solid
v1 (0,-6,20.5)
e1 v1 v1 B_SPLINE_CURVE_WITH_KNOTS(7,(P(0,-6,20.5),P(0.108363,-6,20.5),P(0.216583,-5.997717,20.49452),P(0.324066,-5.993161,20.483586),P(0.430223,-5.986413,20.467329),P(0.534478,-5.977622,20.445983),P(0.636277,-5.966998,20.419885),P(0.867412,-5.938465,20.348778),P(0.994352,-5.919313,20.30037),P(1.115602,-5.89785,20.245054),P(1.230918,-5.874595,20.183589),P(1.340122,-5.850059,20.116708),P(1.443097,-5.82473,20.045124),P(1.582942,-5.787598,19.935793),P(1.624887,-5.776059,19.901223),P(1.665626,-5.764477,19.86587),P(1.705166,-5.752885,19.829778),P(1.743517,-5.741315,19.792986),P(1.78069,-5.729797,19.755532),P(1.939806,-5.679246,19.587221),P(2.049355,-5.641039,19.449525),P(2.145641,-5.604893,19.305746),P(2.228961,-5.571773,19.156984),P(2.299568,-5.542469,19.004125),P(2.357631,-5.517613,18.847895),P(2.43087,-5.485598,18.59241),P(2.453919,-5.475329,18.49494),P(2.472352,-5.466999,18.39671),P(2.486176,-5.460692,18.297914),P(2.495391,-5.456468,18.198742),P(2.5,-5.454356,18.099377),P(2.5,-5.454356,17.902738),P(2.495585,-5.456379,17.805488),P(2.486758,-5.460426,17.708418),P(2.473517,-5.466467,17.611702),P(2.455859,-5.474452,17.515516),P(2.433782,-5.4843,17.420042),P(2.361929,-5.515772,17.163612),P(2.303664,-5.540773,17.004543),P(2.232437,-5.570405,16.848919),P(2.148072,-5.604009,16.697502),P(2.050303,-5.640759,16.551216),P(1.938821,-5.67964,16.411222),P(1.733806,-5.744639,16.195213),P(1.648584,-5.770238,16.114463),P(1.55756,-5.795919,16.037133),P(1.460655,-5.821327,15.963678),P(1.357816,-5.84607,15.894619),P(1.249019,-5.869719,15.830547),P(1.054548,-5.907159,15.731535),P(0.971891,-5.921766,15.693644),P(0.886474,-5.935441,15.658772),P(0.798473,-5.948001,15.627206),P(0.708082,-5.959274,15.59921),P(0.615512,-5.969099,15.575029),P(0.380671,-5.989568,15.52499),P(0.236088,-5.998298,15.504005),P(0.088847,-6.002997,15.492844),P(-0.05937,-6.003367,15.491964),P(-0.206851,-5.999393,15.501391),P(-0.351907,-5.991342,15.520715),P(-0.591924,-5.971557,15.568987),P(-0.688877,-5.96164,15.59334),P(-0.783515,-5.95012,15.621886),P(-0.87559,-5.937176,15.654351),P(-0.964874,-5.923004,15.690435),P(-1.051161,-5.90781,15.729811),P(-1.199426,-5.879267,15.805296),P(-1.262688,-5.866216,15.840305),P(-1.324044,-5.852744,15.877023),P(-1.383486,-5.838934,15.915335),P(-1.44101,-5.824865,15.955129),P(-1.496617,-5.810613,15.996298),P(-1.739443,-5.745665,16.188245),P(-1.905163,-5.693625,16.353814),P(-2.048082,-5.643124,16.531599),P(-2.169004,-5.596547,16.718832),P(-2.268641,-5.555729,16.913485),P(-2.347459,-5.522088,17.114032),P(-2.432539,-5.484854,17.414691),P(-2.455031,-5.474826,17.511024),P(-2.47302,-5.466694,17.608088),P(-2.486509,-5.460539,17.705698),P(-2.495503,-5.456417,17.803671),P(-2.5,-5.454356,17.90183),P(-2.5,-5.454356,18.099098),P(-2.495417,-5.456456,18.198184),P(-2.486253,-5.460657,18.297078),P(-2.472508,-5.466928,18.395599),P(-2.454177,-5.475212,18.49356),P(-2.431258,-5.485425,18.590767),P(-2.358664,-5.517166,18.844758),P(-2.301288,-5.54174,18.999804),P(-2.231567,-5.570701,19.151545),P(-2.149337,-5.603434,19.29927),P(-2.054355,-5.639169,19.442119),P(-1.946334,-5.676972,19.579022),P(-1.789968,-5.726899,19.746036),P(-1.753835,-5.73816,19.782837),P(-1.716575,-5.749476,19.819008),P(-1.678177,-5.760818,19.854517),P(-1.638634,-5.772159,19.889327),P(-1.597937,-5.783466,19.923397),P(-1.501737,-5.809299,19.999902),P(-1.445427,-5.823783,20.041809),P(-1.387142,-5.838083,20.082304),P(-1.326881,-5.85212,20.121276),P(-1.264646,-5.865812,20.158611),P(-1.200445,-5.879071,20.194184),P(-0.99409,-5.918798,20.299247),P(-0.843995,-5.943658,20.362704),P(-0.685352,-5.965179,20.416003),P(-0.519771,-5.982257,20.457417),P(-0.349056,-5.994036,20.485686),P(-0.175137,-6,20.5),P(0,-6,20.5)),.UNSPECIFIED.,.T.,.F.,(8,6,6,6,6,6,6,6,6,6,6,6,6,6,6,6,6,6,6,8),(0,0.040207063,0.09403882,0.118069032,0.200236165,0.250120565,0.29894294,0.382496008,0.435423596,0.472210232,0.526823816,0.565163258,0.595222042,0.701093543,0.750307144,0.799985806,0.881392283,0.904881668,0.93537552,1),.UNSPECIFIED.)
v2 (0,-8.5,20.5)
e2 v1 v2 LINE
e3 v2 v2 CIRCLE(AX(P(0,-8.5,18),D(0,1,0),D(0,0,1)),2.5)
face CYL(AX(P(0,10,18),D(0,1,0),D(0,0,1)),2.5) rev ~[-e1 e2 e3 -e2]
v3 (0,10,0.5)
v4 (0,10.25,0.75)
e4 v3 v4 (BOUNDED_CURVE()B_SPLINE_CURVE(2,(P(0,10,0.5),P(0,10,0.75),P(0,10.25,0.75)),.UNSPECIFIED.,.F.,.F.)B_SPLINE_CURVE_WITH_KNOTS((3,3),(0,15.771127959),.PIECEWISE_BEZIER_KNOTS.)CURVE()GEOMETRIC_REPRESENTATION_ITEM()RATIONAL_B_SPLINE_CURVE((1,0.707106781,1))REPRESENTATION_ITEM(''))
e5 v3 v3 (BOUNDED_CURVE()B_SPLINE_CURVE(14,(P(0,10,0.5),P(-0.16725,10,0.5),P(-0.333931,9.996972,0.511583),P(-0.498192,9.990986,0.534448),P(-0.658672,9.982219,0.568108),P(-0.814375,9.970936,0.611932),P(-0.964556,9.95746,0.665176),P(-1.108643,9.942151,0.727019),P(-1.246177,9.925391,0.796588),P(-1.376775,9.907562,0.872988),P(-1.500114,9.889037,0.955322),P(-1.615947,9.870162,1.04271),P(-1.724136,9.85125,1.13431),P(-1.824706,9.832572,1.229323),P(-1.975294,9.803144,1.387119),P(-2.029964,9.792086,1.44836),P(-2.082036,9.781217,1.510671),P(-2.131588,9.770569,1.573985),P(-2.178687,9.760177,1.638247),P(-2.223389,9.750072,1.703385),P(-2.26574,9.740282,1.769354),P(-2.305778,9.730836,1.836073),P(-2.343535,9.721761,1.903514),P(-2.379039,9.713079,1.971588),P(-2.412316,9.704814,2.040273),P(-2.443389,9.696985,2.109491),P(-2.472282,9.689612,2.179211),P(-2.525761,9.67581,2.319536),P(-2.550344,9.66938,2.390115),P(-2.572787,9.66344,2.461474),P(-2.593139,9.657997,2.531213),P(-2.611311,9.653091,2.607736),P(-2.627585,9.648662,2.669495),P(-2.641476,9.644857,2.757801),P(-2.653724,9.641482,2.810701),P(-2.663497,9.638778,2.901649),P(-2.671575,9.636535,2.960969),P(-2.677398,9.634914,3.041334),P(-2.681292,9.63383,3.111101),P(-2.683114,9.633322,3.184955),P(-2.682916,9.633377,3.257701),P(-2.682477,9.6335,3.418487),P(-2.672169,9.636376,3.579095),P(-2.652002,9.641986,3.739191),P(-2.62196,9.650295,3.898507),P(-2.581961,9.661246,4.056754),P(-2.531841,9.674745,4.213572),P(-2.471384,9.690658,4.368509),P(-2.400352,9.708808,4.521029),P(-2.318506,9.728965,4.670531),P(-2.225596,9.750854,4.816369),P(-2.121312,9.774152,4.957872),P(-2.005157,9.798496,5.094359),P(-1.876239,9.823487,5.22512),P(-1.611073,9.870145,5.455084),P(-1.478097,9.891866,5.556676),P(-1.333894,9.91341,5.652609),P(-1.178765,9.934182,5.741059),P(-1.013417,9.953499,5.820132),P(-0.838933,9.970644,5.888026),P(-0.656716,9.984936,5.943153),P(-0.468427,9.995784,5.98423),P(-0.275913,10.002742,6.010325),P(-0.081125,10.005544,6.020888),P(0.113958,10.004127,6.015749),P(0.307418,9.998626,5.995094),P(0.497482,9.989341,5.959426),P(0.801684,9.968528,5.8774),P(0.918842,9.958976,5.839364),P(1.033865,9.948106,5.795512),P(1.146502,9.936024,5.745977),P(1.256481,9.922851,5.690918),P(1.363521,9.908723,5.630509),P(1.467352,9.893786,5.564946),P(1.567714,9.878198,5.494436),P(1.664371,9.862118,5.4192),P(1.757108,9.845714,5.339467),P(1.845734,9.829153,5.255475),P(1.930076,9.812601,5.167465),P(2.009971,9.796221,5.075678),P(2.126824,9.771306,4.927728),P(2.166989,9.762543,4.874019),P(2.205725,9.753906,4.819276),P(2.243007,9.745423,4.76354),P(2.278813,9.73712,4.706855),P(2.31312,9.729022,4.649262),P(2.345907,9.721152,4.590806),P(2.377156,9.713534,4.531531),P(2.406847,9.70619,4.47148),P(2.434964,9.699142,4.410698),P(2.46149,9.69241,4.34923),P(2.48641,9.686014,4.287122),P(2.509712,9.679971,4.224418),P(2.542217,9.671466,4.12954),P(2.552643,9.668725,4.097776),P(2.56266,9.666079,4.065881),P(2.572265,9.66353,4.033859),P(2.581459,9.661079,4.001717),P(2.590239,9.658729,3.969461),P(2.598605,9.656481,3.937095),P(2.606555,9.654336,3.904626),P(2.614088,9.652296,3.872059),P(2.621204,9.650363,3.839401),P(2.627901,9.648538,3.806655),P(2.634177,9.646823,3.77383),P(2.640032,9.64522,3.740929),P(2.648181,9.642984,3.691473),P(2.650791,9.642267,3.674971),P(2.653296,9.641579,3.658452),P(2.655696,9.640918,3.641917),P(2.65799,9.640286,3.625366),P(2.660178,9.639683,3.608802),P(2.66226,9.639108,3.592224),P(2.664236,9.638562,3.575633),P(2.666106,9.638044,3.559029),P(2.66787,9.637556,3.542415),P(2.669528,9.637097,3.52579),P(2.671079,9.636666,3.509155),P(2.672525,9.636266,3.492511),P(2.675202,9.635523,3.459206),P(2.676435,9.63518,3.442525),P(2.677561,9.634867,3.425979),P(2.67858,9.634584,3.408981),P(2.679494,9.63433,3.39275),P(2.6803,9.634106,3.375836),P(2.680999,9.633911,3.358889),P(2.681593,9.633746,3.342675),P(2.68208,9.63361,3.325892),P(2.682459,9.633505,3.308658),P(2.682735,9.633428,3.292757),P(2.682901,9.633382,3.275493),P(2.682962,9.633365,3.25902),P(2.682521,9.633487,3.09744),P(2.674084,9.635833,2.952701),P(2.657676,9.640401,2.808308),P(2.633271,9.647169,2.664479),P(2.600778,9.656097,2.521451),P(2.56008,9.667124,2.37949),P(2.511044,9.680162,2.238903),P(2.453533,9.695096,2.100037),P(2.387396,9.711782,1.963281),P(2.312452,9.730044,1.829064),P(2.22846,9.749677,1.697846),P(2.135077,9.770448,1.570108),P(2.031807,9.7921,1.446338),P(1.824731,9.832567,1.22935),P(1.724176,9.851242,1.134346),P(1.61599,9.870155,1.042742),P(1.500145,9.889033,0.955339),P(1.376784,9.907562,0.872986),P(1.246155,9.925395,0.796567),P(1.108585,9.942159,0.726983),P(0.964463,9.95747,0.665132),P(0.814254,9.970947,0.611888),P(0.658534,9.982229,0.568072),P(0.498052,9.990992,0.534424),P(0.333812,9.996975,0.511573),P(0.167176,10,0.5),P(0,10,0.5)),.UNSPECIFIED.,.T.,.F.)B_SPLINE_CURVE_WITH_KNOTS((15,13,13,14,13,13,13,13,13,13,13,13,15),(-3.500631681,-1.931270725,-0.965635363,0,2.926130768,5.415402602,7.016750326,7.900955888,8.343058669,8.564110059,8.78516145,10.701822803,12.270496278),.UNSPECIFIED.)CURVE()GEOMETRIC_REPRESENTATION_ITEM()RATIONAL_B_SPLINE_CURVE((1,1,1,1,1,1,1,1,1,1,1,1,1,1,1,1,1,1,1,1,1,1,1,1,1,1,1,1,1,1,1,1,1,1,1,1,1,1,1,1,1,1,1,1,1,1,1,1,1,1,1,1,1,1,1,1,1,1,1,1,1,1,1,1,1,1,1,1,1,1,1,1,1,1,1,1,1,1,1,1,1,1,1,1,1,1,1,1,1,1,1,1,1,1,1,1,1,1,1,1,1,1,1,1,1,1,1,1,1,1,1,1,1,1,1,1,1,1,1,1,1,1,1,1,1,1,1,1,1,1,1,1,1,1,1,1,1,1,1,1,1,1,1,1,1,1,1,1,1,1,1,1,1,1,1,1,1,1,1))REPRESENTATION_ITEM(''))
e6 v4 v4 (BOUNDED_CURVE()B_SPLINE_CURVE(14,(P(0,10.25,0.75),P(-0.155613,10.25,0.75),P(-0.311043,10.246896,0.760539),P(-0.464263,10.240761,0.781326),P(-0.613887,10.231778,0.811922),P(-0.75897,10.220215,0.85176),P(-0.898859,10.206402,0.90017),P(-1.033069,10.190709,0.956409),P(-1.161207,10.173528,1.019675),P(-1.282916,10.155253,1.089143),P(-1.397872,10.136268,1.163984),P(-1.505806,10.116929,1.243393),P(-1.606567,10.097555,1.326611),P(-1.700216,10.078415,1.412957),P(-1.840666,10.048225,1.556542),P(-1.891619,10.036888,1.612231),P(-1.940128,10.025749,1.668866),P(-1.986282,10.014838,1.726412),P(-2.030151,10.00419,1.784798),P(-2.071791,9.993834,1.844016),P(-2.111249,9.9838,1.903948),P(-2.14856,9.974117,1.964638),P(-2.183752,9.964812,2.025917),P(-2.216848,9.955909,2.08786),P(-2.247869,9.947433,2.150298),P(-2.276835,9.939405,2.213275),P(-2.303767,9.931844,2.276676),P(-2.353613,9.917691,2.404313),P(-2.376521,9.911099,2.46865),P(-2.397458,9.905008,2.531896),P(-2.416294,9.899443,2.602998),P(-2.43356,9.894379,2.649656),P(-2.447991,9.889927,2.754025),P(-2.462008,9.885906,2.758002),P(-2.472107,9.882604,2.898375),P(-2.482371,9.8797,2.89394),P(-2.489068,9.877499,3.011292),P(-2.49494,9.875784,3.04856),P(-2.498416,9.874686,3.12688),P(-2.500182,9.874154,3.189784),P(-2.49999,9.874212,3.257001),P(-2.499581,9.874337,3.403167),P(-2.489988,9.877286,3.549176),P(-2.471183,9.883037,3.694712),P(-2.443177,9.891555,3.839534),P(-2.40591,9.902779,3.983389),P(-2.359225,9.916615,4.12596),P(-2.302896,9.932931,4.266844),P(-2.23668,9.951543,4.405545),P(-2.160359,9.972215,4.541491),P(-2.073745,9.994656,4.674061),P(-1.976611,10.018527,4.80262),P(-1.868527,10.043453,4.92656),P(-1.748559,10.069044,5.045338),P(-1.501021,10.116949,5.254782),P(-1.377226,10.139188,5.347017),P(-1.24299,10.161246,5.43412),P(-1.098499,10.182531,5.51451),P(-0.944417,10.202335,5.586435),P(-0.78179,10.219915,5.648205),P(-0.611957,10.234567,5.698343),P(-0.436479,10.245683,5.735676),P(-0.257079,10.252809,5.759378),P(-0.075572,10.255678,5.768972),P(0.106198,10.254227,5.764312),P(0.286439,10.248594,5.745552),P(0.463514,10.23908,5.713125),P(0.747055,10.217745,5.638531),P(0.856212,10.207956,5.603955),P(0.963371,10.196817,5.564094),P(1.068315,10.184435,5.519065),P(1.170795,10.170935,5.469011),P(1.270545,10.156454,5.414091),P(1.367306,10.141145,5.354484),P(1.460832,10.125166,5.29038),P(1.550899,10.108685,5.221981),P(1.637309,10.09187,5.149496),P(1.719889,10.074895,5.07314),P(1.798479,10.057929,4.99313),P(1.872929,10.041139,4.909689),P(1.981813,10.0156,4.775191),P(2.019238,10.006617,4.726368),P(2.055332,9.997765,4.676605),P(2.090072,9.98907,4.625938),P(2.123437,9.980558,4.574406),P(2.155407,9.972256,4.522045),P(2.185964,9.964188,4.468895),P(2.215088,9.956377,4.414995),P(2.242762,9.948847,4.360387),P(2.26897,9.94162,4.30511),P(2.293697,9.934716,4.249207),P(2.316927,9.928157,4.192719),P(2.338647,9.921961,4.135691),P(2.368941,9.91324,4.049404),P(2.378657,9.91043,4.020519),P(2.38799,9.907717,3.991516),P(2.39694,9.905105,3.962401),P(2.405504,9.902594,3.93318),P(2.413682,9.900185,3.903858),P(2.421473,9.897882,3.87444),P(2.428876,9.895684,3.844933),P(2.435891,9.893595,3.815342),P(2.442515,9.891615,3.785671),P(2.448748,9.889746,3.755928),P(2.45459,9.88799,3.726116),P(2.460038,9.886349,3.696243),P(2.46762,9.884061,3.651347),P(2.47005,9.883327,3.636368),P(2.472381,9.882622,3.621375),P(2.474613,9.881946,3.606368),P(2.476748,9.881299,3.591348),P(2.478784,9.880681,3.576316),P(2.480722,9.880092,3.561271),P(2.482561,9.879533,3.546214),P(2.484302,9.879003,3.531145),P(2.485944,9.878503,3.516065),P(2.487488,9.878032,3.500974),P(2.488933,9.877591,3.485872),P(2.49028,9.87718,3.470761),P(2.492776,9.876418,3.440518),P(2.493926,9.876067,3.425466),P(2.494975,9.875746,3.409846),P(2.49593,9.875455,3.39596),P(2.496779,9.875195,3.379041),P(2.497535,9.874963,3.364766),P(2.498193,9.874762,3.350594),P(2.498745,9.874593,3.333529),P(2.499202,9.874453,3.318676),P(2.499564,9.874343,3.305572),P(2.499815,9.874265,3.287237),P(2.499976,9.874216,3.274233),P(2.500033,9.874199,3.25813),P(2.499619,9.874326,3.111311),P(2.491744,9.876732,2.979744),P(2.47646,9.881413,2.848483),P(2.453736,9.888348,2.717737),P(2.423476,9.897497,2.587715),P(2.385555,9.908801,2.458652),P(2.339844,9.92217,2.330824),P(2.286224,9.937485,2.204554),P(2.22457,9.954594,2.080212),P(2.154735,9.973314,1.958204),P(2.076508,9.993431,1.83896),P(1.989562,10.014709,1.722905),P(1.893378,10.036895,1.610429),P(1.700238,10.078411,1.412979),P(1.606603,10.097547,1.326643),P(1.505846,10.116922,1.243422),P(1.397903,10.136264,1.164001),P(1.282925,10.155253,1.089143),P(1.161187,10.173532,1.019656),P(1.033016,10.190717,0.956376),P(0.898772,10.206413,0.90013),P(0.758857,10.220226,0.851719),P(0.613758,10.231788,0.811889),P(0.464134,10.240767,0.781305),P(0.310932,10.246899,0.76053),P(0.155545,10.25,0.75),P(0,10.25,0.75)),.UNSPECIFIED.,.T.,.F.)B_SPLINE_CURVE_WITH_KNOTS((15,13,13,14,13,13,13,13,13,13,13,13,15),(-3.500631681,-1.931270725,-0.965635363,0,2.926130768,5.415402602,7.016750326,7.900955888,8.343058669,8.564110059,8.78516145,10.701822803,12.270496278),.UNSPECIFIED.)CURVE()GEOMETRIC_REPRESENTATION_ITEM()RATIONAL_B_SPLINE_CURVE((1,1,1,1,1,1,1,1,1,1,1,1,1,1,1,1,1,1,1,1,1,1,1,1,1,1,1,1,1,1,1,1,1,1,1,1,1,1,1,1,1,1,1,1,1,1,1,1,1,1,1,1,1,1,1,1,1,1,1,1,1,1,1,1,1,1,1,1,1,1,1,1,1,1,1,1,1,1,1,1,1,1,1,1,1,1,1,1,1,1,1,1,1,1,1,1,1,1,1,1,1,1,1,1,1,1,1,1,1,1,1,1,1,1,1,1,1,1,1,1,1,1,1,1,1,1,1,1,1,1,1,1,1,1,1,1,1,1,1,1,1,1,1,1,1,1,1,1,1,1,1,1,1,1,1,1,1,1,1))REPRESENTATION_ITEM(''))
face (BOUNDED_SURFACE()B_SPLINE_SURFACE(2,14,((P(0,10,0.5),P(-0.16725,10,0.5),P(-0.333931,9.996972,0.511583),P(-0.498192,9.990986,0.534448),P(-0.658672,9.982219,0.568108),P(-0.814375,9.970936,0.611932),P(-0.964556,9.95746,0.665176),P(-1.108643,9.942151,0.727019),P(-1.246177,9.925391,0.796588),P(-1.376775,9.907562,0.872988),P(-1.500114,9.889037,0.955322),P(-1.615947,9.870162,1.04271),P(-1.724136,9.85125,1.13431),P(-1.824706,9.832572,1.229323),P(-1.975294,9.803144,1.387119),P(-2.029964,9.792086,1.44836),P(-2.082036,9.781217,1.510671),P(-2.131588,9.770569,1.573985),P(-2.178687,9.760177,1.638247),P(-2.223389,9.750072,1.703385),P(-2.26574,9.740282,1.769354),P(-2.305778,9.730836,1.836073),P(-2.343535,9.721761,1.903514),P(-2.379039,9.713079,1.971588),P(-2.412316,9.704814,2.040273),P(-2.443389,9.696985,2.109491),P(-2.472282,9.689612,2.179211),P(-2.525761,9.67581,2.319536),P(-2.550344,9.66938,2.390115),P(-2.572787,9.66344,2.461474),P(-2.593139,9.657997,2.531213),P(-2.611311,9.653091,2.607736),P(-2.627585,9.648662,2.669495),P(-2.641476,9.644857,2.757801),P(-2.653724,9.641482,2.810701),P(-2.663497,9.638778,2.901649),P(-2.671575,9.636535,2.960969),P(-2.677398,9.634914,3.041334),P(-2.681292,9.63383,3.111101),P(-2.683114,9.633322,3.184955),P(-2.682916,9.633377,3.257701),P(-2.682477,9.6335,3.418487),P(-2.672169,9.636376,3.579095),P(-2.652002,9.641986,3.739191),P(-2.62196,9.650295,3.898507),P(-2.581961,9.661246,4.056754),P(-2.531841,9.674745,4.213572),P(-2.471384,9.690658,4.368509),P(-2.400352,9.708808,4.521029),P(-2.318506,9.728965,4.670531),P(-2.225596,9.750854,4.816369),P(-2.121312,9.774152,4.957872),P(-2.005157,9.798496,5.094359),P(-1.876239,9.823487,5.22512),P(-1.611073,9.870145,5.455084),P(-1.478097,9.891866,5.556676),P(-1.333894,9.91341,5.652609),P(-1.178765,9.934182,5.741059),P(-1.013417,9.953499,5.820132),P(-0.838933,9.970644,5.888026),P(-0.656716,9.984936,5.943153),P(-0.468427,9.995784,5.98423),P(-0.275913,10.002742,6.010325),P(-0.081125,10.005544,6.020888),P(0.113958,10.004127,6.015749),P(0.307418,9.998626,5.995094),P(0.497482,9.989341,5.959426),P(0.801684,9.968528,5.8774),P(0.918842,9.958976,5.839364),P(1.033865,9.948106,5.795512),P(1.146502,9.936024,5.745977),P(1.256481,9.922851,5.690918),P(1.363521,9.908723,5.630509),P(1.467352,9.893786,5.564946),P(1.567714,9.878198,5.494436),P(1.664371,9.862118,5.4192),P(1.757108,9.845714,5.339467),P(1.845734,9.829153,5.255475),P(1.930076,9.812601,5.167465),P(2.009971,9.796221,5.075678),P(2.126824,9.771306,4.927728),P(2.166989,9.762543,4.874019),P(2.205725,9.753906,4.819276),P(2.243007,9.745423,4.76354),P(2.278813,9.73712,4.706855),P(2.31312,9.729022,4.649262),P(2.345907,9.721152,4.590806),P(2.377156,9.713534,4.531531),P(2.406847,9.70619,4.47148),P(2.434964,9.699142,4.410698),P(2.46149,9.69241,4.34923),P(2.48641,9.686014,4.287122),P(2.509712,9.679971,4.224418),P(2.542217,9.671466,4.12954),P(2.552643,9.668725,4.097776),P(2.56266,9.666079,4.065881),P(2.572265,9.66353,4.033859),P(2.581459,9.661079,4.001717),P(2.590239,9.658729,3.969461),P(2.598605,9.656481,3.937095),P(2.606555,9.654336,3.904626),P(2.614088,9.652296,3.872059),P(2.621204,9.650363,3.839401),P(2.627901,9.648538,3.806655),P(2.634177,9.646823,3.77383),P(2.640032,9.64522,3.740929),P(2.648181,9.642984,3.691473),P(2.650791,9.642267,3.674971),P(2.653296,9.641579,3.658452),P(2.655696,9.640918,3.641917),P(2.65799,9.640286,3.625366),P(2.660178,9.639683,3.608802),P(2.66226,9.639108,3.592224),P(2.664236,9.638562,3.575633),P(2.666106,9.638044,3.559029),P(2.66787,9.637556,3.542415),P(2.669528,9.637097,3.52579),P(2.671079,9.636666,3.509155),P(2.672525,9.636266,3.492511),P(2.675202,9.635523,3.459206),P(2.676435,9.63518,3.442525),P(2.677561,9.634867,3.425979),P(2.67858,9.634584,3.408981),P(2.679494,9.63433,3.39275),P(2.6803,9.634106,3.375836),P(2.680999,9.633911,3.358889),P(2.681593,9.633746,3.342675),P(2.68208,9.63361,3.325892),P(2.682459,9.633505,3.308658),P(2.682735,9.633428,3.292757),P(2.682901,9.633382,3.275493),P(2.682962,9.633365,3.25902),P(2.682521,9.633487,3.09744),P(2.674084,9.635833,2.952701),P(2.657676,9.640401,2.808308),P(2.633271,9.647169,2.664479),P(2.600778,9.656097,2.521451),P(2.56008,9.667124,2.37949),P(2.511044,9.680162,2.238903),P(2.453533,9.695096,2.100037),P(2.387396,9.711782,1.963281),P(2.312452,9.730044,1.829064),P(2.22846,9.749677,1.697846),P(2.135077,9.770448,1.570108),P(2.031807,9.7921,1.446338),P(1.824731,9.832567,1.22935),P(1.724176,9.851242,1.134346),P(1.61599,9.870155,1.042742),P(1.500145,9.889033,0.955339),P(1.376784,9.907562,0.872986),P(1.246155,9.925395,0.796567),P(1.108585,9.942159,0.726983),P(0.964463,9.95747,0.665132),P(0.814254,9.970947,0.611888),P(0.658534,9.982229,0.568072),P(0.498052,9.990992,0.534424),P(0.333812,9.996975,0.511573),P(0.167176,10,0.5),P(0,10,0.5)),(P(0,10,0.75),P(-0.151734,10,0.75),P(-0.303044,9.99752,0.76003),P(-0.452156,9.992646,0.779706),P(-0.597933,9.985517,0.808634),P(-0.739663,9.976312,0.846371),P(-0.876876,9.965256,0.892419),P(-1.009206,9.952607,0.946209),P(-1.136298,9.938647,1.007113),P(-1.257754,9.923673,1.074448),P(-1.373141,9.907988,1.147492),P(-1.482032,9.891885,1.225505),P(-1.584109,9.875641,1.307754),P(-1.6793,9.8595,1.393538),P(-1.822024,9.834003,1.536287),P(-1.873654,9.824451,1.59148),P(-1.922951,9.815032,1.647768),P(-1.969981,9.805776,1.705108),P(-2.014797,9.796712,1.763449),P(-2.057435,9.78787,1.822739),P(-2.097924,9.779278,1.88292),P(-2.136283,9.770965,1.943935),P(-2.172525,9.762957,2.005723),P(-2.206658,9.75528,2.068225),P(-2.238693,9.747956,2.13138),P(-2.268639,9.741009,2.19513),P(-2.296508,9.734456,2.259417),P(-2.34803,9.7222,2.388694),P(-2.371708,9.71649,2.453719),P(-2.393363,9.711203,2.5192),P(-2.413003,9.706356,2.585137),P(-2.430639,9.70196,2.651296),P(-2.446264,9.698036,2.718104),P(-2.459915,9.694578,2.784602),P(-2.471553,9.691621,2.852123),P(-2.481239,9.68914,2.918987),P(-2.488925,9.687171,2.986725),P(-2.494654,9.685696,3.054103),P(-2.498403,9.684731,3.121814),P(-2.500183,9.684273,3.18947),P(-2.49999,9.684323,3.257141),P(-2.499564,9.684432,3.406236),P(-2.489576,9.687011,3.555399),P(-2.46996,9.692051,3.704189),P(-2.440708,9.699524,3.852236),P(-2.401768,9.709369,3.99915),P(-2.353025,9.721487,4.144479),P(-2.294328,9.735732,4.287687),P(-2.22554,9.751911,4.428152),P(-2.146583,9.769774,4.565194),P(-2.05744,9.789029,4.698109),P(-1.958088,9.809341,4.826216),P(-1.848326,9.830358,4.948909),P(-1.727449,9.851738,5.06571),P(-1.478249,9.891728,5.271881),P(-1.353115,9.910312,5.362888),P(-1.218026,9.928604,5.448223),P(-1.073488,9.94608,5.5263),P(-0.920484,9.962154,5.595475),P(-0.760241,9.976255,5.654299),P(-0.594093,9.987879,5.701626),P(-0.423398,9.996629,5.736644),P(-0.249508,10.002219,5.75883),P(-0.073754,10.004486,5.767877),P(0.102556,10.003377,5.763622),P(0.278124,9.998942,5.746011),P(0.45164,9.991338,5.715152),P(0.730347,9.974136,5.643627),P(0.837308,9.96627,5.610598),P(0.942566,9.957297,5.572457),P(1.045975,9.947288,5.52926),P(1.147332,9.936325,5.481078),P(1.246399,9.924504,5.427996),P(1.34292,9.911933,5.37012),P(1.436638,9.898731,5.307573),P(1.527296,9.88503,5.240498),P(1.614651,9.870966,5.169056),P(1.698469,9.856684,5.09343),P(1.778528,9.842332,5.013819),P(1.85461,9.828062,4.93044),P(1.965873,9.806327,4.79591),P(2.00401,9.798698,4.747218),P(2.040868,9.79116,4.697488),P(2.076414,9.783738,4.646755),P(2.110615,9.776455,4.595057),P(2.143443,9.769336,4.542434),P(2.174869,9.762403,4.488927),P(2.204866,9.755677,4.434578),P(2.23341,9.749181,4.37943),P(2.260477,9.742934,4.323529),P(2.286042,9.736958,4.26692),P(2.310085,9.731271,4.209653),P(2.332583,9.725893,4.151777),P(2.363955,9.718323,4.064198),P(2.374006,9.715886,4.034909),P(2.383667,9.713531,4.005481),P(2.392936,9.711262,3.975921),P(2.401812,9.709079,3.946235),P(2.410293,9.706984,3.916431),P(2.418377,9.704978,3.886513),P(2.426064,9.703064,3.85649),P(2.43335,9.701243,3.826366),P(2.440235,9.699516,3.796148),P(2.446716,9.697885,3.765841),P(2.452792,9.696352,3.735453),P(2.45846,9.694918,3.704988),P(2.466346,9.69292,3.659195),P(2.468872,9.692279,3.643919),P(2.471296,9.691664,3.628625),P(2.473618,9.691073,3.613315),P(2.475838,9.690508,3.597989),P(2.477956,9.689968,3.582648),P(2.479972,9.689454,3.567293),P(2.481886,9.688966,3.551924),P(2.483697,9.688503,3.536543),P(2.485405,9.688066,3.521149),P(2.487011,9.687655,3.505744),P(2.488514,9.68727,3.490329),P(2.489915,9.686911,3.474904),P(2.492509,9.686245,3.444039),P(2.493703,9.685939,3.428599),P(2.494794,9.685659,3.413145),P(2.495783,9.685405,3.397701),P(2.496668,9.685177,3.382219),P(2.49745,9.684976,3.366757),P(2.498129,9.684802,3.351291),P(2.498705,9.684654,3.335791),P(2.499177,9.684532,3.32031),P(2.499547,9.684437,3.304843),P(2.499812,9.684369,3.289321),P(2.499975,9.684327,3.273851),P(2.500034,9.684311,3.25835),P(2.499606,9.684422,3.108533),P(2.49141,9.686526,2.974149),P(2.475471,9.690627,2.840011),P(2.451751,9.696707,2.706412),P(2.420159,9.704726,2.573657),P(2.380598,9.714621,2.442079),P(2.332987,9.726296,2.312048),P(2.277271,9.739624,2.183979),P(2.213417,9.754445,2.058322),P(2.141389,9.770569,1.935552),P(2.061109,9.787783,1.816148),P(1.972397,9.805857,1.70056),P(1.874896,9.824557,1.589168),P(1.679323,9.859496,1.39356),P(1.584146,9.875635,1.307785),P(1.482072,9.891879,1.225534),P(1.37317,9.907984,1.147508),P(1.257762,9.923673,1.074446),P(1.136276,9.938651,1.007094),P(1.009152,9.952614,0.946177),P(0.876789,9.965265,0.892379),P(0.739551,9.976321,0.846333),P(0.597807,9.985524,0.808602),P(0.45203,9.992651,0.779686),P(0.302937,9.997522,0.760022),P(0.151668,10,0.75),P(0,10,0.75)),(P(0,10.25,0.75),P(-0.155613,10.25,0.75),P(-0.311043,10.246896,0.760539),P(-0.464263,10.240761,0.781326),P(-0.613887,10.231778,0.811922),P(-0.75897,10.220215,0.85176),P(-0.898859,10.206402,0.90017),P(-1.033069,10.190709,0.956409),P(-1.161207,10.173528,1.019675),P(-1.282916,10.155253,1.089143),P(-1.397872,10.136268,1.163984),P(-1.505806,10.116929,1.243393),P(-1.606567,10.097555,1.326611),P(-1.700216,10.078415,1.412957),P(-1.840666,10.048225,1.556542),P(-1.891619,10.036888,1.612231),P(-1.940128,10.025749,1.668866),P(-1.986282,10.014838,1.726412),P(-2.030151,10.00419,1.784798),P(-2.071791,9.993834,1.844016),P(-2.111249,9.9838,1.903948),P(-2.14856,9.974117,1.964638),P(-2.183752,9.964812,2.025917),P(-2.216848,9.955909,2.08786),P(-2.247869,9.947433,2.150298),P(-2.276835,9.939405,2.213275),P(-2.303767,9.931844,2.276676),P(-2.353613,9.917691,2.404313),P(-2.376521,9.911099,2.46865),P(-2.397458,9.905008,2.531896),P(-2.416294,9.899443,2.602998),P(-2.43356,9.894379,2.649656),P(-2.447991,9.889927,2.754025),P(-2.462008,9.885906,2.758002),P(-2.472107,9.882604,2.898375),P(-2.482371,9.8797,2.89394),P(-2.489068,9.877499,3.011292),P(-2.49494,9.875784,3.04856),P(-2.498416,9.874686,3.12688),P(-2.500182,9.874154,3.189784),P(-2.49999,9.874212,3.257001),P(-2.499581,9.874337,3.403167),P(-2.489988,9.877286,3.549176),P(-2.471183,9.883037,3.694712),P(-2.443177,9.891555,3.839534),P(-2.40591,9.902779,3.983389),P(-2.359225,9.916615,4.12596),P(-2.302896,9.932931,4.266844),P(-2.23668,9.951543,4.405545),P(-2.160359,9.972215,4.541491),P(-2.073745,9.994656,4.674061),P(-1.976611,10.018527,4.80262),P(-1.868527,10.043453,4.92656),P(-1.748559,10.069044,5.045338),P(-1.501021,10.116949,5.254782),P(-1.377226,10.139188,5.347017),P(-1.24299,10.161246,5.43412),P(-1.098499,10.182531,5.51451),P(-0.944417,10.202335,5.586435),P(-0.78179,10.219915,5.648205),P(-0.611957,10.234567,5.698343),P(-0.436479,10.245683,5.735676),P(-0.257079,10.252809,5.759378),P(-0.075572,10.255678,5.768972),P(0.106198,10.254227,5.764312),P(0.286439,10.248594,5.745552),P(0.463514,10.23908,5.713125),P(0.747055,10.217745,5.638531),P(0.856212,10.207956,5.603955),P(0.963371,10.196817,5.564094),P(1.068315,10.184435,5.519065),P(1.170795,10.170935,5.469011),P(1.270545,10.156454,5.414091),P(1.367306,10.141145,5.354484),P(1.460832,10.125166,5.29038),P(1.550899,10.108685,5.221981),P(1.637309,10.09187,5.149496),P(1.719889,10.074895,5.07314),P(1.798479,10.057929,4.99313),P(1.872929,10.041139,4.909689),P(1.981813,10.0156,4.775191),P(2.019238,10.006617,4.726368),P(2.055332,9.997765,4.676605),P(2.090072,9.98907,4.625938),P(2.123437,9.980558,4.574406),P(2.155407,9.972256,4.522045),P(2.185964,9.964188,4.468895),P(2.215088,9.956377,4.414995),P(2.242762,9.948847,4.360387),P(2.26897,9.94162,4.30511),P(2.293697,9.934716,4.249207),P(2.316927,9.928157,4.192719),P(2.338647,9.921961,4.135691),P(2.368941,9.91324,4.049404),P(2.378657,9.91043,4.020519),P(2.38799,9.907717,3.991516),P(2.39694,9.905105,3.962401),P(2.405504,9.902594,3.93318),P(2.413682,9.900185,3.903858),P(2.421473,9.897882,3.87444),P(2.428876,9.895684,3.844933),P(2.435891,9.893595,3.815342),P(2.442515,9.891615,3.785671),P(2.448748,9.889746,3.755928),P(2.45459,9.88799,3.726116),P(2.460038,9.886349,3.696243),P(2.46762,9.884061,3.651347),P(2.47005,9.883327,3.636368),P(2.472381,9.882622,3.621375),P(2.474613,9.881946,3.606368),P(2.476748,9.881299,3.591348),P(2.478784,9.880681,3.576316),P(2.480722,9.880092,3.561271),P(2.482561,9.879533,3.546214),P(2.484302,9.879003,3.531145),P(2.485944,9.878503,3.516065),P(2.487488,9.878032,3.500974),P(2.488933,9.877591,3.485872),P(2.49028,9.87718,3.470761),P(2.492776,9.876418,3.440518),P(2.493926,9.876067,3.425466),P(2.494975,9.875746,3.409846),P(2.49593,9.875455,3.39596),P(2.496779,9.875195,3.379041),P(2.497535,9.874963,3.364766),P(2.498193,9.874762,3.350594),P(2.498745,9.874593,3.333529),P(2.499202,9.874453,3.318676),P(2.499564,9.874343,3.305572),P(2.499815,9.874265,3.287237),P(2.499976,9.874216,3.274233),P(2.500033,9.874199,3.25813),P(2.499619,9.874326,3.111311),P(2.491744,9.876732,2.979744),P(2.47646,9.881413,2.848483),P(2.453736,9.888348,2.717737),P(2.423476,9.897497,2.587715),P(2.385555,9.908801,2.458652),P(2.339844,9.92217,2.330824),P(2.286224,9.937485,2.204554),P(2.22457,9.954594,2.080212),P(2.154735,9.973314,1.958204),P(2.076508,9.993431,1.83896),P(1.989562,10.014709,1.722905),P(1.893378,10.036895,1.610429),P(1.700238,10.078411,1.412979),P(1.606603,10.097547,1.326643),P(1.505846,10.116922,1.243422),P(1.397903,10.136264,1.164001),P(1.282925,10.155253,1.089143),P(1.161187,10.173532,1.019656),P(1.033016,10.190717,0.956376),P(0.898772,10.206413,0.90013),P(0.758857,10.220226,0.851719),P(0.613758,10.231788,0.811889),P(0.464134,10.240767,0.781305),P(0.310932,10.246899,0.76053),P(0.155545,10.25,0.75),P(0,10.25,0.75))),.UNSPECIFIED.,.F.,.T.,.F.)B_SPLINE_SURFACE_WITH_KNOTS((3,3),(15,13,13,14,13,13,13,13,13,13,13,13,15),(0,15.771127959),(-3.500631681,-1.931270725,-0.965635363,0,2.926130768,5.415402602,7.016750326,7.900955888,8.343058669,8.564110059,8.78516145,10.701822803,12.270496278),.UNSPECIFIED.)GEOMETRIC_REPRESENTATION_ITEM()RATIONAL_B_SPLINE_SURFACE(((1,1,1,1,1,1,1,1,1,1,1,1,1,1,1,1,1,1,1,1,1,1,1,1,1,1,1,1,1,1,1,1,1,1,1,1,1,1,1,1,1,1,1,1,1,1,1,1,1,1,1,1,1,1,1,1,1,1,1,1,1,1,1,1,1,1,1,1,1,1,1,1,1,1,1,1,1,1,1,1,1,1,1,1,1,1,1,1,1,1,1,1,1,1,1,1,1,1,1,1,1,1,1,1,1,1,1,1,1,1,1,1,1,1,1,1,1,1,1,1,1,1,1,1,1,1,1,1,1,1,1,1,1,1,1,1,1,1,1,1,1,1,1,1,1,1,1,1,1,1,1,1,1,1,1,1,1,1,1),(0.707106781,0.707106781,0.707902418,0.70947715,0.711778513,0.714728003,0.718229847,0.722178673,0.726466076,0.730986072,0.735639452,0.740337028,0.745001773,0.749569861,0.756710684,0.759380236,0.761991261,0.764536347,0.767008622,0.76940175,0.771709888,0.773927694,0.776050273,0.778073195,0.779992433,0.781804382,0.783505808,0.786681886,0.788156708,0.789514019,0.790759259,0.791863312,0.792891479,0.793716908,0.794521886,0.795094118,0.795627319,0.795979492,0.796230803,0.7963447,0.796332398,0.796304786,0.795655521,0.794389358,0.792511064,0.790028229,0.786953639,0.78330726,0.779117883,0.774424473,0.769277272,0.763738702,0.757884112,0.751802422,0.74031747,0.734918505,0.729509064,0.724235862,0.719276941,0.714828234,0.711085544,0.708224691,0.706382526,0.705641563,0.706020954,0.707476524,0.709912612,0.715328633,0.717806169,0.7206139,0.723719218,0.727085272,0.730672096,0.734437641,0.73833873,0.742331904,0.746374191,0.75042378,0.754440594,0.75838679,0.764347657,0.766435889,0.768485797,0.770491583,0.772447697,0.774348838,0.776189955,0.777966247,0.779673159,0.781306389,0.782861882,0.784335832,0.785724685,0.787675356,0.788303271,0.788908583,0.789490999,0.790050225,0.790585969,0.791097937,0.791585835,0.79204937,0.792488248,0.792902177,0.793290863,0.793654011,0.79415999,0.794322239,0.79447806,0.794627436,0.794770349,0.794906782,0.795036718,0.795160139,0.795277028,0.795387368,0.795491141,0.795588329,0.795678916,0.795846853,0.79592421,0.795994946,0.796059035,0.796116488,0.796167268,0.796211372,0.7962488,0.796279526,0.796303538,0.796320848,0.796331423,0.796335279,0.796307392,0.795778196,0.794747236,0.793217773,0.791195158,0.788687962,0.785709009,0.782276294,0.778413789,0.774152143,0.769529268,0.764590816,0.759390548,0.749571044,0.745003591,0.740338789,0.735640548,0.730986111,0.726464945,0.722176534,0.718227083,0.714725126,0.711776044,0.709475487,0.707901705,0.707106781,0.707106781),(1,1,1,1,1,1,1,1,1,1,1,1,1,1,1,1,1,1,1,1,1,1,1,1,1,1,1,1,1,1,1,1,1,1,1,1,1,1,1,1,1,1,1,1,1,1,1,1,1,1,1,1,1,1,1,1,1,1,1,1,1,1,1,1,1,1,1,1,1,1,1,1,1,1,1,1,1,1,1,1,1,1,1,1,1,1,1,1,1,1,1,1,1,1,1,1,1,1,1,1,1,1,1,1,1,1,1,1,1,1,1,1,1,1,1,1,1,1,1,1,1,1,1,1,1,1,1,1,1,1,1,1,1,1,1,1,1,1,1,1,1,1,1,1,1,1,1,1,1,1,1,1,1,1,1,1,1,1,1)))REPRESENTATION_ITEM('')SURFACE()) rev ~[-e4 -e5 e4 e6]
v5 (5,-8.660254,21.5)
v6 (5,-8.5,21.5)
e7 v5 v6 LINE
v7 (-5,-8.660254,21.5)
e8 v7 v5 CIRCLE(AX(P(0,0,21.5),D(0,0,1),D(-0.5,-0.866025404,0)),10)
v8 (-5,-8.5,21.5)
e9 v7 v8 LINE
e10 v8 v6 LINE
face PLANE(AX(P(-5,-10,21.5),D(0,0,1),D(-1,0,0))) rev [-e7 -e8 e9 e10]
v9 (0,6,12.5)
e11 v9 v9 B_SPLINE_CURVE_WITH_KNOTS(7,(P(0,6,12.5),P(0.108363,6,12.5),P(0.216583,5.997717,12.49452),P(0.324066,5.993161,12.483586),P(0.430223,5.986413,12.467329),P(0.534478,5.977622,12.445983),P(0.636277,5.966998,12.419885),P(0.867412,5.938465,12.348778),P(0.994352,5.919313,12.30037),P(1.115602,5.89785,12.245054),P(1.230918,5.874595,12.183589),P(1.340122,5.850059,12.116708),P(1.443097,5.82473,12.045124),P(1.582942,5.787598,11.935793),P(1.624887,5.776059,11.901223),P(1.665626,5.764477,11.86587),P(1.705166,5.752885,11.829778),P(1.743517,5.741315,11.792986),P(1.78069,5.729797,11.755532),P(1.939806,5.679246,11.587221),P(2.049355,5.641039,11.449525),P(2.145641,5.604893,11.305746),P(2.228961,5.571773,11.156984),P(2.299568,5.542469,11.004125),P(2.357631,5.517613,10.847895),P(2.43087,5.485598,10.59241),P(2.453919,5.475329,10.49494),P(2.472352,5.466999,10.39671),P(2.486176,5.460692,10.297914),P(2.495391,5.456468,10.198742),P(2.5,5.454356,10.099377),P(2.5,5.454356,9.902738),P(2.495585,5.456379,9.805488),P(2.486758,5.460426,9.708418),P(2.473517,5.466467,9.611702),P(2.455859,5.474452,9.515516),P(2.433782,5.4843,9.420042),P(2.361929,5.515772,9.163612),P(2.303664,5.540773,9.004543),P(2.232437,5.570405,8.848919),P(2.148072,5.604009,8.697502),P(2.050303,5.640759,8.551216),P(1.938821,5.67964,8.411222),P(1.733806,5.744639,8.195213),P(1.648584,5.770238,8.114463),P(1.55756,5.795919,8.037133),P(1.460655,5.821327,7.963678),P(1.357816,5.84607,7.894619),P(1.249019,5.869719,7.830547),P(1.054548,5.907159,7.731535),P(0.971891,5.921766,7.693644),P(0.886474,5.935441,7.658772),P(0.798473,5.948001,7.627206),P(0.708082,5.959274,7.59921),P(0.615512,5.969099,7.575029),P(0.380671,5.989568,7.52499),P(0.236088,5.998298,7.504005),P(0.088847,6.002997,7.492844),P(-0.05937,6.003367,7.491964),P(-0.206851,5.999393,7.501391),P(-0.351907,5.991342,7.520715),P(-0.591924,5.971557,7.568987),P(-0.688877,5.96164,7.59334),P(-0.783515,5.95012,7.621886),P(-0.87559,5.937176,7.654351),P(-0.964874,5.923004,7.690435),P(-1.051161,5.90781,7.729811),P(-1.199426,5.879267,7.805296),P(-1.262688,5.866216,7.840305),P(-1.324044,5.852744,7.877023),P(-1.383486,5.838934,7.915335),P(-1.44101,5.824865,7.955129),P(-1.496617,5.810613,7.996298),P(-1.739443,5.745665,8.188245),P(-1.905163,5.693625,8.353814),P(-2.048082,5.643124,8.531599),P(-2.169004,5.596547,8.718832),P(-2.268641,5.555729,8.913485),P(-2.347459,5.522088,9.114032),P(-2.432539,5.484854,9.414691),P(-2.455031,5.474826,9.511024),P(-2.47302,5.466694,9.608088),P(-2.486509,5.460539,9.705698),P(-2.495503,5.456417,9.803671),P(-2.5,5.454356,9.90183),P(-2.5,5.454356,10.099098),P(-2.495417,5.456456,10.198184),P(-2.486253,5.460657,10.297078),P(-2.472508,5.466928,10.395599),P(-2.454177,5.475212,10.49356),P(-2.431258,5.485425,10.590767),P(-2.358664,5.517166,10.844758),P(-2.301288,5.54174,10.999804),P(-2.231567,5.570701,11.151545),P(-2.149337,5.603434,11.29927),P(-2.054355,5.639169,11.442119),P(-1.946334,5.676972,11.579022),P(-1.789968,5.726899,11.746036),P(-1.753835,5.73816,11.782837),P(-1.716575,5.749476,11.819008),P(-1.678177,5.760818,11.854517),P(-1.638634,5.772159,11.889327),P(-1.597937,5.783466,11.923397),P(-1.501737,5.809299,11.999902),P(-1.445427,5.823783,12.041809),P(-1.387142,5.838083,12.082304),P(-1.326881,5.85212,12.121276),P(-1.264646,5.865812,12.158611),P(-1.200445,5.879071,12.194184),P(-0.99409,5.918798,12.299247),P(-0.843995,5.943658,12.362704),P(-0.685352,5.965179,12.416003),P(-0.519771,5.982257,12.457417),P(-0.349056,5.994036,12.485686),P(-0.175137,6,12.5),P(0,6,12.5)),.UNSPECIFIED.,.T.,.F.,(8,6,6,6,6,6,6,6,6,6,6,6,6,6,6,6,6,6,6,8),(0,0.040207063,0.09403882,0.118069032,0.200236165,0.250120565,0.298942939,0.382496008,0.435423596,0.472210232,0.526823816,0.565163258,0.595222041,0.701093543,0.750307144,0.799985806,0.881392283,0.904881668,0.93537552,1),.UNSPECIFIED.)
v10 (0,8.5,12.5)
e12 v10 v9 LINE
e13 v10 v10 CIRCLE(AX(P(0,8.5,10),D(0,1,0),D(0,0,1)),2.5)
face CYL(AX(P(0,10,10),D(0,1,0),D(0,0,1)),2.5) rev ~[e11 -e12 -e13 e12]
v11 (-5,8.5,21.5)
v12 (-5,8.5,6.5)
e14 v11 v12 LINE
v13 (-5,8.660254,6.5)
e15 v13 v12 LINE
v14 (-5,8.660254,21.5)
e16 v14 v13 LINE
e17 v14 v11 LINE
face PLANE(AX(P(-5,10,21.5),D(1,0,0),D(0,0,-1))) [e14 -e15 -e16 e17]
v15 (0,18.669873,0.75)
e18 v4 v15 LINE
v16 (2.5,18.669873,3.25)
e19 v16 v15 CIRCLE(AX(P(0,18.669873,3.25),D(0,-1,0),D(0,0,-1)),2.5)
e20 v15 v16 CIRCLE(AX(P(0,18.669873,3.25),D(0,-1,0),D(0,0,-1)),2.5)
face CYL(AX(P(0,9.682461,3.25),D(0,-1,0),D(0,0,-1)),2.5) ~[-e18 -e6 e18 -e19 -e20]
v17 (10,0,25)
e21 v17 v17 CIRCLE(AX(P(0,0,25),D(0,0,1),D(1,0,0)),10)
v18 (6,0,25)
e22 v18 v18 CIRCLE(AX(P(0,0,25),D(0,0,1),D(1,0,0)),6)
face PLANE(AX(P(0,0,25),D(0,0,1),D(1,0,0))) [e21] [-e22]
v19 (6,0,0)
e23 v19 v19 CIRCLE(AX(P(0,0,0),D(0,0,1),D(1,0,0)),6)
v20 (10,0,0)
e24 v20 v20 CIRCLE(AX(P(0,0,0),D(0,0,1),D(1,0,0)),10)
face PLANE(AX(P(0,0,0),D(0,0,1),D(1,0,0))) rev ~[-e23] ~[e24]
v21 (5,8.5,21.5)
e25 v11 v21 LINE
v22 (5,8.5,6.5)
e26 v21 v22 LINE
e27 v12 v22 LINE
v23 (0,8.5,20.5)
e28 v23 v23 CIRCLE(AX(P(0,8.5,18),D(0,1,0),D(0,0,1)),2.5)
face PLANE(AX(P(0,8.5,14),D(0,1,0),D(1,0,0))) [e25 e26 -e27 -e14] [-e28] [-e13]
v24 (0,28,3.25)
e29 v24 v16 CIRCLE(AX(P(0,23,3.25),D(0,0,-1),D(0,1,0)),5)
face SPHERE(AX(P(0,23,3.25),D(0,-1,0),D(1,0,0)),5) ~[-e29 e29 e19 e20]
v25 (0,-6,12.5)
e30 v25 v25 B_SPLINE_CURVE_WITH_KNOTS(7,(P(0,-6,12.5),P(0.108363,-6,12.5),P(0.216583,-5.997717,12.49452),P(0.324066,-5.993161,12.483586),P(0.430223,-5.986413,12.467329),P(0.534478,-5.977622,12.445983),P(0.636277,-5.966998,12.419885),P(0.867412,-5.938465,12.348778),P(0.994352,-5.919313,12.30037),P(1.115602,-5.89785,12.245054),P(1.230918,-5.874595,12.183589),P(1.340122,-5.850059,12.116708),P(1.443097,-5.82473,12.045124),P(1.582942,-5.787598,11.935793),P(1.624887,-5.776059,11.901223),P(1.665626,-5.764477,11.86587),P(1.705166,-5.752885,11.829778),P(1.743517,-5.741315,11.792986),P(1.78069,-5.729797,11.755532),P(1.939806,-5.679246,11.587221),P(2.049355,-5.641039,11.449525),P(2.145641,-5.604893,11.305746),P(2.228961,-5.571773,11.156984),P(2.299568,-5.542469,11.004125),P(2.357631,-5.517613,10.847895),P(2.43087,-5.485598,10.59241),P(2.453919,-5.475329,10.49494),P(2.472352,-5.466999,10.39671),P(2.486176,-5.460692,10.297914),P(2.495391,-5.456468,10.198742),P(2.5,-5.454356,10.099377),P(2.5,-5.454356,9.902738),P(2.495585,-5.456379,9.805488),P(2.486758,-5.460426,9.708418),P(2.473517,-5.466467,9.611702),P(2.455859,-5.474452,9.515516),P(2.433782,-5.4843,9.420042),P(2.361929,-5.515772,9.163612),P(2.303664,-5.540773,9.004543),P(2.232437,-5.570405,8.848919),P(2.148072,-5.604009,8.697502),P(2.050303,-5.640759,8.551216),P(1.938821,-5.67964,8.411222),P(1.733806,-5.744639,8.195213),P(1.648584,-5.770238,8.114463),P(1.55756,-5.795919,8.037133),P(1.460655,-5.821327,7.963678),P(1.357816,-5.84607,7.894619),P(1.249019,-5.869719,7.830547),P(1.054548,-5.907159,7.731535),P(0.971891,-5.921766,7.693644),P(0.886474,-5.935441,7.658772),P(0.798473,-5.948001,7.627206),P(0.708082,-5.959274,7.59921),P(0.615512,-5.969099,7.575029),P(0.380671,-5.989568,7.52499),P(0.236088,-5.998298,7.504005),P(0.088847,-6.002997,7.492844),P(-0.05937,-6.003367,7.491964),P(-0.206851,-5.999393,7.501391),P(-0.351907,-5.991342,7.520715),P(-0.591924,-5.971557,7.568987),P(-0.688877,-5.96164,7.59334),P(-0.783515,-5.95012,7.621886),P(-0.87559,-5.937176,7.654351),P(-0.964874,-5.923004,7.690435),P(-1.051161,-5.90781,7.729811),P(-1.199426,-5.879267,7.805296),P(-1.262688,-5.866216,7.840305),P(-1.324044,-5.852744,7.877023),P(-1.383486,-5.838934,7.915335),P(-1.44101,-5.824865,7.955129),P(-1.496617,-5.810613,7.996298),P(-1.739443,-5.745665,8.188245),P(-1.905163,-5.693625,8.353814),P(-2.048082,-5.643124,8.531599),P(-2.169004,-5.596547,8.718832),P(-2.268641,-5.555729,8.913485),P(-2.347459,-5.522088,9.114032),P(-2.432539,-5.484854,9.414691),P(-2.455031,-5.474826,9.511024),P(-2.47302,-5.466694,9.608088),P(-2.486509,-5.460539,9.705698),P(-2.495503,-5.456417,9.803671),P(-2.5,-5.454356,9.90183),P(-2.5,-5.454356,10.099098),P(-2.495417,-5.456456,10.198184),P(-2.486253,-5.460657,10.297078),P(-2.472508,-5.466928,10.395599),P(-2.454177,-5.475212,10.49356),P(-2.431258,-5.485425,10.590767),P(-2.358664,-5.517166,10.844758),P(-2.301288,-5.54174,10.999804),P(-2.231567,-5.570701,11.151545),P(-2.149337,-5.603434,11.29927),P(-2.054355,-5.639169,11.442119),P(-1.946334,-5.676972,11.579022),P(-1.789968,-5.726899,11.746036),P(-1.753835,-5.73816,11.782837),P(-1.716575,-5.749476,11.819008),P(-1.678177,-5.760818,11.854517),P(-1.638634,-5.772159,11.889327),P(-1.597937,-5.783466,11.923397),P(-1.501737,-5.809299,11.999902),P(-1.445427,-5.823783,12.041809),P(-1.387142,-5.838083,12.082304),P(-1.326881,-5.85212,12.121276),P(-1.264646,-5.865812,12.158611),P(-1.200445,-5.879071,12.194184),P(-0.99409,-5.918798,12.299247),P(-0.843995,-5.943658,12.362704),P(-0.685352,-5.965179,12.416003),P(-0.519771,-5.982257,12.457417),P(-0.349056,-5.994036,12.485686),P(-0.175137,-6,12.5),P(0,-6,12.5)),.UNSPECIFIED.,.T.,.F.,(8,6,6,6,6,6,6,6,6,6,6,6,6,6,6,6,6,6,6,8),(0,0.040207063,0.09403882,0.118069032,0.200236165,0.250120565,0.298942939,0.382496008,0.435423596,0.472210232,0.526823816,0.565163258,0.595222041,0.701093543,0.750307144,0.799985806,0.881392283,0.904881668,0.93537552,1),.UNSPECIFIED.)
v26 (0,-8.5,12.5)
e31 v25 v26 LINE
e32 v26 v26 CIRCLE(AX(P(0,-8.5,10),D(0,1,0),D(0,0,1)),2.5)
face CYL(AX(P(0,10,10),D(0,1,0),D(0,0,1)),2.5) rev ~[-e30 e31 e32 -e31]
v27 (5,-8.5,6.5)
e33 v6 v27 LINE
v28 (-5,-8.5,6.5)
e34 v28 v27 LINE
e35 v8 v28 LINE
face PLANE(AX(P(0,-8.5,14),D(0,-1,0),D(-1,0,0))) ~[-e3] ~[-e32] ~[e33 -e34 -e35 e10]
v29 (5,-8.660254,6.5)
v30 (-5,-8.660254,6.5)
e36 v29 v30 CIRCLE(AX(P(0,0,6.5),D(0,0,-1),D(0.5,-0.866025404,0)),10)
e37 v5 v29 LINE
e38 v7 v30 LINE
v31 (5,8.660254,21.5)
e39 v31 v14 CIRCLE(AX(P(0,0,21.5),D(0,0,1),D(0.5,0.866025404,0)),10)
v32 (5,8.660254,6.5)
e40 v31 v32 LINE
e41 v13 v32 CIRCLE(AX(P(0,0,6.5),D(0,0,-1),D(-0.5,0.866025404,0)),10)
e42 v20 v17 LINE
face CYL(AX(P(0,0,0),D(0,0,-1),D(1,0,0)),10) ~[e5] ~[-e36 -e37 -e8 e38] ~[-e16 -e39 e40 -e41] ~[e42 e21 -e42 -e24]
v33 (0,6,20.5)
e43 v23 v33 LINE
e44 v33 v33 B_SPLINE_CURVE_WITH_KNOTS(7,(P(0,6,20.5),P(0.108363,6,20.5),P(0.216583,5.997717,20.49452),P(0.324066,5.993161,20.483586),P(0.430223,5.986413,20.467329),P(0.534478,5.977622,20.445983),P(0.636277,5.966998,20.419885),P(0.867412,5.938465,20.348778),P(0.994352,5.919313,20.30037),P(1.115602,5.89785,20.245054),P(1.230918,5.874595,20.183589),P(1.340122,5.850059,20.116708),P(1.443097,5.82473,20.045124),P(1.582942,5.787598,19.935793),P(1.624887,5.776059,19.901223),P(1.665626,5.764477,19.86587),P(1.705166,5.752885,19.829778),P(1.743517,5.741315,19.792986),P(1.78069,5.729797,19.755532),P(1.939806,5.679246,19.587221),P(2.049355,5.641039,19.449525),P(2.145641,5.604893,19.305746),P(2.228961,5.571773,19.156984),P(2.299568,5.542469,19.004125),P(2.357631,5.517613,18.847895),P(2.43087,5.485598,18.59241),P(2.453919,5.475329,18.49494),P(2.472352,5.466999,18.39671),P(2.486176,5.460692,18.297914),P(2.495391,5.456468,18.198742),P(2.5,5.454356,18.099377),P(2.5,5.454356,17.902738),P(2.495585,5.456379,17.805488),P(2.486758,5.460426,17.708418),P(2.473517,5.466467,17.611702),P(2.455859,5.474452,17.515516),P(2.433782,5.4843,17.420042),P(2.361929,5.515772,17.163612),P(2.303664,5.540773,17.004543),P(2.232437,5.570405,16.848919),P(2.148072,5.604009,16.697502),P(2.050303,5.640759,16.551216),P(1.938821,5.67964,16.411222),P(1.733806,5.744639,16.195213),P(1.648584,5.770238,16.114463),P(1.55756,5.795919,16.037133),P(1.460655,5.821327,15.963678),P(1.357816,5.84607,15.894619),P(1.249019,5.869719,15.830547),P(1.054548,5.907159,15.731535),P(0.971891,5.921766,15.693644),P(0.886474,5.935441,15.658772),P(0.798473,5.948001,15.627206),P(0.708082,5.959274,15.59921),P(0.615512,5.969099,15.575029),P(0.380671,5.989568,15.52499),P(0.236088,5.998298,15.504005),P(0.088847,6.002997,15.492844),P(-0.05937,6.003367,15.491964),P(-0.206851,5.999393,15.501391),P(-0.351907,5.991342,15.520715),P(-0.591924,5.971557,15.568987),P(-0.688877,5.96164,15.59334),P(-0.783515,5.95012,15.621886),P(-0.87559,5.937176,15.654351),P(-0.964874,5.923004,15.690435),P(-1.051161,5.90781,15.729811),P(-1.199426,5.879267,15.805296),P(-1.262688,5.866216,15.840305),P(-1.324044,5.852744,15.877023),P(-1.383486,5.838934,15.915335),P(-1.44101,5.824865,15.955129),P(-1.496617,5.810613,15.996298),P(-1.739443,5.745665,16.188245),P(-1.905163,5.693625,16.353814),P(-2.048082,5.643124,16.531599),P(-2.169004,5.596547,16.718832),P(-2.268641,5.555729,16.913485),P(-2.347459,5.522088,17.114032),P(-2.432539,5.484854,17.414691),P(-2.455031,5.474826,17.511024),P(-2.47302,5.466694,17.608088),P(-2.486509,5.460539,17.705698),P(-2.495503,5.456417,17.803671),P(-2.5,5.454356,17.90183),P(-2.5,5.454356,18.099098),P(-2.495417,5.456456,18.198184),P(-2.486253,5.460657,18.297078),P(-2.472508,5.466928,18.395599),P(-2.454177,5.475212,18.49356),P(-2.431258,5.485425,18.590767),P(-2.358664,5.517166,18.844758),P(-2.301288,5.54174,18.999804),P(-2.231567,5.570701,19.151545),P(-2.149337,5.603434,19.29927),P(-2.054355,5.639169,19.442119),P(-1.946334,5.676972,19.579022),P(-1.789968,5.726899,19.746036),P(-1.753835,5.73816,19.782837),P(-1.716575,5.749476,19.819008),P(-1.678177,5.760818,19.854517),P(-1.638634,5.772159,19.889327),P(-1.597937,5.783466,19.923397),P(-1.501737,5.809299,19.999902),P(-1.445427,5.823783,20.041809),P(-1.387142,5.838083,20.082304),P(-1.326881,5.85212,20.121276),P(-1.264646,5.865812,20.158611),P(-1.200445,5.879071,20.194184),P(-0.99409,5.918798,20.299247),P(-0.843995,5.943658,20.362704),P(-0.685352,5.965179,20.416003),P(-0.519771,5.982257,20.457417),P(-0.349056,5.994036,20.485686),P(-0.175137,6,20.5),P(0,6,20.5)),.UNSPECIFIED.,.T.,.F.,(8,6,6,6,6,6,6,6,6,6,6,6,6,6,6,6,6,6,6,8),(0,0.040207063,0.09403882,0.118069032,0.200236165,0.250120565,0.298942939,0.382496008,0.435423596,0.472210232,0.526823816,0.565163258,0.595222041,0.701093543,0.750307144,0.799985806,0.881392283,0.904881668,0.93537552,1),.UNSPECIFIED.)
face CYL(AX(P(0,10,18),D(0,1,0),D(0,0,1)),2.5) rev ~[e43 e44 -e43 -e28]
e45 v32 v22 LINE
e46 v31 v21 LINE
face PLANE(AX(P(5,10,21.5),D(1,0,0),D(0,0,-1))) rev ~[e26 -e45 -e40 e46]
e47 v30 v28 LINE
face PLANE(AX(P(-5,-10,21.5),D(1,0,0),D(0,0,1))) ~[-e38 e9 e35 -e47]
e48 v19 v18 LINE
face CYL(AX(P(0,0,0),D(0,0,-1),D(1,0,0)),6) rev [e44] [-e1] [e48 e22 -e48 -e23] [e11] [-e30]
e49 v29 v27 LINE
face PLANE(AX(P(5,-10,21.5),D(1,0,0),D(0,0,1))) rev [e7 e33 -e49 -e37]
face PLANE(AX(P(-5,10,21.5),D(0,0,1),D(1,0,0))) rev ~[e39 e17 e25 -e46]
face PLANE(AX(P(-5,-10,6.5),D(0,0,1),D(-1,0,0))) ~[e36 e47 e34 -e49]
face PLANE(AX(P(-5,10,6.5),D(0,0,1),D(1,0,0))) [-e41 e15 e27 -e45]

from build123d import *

# Parameters (mm, degrees)
SKETCH1_R           = 10
SKETCH1_R_2         = 6
BOSS_EXTRUDE1_DEPTH = 25
BOSS_EXTRUDE2_START = -0.317539
SKETCH2_R           = 2.5
BOSS_EXTRUDE2_DEPTH = 10.317539
FILLET1_R           = 0.25
SKETCH5_R           = 2.5
CUT_EXTRUDE1_DEPTH  = 34.541019826
SKETCH6_W           = 10
SKETCH6_H           = 15
CUT_EXTRUDE3_DEPTH  = 1.5


with BuildPart() as part:
    # Sketch1 → Boss-Extrude1 (new body)
    with BuildSketch(Plane.XY):
        Circle(SKETCH1_R)
        Circle(SKETCH1_R_2, mode=Mode.SUBTRACT)
    extrude(amount=BOSS_EXTRUDE1_DEPTH)


with BuildPart() as boss_extrude2_tool:
    # Sketch2 → Boss-Extrude2 (new body)
    with BuildSketch(Plane(origin=(0, 10, 0), x_dir=(1, 0, 0), z_dir=(0, 1, 0)).offset(BOSS_EXTRUDE2_START)):
        with Locations(Location((0, -3.25, 0), (0, 0, 90))):
            Circle(SKETCH2_R)
    extrude(amount=BOSS_EXTRUDE2_DEPTH)


with BuildPart() as part_1:
    add(part.part)


with BuildPart() as part_2:
    # Boss-Extrude2: joined with boss_extrude2_tool
    add(part_1.part.fuse(boss_extrude2_tool.part, tol=0.00001))

    # Fillet1
    fillet1_edges = [part_2.edges().sort_by_distance(p)[0] for p in [
        (-2e-09, 9.999999993, 5.750000022),
    ]]
    fillet(fillet1_edges, radius=FILLET1_R)

    # Sketch5 → Cut-Extrude1 (cut, through all)
    with BuildSketch(Plane(origin=(0, 10, 0), x_dir=(1, 0, 0), z_dir=(0, 1, 0))):
        with Locations(Location((0, -10, 0), (0, 0, 270))):
            Circle(SKETCH5_R)
        with Locations(Location((0, -18, 0), (0, 0, 270))):
            Circle(SKETCH5_R)
    extrude(amount=-CUT_EXTRUDE1_DEPTH, mode=Mode.SUBTRACT)

    # Sketch6 → Cut-Extrude3 (cut)
    with BuildSketch(Plane(origin=(0, 10, 0), x_dir=(1, 0, 0), z_dir=(0, 1, 0))):
        with Locations((0, -14)):
            Rectangle(SKETCH6_W, SKETCH6_H)
    cut_extrude3 = extrude(amount=-CUT_EXTRUDE3_DEPTH, mode=Mode.SUBTRACT)

    # Mirror1: Cut-Extrude3 across plane
    add(cut_extrude3.mirror(Plane.ZX), mode=Mode.SUBTRACT)

    # Sketch4 → Revolve1 (revolve)
    with BuildSketch(Plane(origin=(0, 0, 3.25), x_dir=(-1, 0, 0), z_dir=(0, 0, -1))):
        with BuildLine():
            Line((0, 18), (0, 28))
            ThreePointArc((0, 28), (-5, 23), (0, 18))
        make_face()
    revolve(axis=Axis((0, 18, 3.25), (0, 1, 0)))


solid = part_2.part
